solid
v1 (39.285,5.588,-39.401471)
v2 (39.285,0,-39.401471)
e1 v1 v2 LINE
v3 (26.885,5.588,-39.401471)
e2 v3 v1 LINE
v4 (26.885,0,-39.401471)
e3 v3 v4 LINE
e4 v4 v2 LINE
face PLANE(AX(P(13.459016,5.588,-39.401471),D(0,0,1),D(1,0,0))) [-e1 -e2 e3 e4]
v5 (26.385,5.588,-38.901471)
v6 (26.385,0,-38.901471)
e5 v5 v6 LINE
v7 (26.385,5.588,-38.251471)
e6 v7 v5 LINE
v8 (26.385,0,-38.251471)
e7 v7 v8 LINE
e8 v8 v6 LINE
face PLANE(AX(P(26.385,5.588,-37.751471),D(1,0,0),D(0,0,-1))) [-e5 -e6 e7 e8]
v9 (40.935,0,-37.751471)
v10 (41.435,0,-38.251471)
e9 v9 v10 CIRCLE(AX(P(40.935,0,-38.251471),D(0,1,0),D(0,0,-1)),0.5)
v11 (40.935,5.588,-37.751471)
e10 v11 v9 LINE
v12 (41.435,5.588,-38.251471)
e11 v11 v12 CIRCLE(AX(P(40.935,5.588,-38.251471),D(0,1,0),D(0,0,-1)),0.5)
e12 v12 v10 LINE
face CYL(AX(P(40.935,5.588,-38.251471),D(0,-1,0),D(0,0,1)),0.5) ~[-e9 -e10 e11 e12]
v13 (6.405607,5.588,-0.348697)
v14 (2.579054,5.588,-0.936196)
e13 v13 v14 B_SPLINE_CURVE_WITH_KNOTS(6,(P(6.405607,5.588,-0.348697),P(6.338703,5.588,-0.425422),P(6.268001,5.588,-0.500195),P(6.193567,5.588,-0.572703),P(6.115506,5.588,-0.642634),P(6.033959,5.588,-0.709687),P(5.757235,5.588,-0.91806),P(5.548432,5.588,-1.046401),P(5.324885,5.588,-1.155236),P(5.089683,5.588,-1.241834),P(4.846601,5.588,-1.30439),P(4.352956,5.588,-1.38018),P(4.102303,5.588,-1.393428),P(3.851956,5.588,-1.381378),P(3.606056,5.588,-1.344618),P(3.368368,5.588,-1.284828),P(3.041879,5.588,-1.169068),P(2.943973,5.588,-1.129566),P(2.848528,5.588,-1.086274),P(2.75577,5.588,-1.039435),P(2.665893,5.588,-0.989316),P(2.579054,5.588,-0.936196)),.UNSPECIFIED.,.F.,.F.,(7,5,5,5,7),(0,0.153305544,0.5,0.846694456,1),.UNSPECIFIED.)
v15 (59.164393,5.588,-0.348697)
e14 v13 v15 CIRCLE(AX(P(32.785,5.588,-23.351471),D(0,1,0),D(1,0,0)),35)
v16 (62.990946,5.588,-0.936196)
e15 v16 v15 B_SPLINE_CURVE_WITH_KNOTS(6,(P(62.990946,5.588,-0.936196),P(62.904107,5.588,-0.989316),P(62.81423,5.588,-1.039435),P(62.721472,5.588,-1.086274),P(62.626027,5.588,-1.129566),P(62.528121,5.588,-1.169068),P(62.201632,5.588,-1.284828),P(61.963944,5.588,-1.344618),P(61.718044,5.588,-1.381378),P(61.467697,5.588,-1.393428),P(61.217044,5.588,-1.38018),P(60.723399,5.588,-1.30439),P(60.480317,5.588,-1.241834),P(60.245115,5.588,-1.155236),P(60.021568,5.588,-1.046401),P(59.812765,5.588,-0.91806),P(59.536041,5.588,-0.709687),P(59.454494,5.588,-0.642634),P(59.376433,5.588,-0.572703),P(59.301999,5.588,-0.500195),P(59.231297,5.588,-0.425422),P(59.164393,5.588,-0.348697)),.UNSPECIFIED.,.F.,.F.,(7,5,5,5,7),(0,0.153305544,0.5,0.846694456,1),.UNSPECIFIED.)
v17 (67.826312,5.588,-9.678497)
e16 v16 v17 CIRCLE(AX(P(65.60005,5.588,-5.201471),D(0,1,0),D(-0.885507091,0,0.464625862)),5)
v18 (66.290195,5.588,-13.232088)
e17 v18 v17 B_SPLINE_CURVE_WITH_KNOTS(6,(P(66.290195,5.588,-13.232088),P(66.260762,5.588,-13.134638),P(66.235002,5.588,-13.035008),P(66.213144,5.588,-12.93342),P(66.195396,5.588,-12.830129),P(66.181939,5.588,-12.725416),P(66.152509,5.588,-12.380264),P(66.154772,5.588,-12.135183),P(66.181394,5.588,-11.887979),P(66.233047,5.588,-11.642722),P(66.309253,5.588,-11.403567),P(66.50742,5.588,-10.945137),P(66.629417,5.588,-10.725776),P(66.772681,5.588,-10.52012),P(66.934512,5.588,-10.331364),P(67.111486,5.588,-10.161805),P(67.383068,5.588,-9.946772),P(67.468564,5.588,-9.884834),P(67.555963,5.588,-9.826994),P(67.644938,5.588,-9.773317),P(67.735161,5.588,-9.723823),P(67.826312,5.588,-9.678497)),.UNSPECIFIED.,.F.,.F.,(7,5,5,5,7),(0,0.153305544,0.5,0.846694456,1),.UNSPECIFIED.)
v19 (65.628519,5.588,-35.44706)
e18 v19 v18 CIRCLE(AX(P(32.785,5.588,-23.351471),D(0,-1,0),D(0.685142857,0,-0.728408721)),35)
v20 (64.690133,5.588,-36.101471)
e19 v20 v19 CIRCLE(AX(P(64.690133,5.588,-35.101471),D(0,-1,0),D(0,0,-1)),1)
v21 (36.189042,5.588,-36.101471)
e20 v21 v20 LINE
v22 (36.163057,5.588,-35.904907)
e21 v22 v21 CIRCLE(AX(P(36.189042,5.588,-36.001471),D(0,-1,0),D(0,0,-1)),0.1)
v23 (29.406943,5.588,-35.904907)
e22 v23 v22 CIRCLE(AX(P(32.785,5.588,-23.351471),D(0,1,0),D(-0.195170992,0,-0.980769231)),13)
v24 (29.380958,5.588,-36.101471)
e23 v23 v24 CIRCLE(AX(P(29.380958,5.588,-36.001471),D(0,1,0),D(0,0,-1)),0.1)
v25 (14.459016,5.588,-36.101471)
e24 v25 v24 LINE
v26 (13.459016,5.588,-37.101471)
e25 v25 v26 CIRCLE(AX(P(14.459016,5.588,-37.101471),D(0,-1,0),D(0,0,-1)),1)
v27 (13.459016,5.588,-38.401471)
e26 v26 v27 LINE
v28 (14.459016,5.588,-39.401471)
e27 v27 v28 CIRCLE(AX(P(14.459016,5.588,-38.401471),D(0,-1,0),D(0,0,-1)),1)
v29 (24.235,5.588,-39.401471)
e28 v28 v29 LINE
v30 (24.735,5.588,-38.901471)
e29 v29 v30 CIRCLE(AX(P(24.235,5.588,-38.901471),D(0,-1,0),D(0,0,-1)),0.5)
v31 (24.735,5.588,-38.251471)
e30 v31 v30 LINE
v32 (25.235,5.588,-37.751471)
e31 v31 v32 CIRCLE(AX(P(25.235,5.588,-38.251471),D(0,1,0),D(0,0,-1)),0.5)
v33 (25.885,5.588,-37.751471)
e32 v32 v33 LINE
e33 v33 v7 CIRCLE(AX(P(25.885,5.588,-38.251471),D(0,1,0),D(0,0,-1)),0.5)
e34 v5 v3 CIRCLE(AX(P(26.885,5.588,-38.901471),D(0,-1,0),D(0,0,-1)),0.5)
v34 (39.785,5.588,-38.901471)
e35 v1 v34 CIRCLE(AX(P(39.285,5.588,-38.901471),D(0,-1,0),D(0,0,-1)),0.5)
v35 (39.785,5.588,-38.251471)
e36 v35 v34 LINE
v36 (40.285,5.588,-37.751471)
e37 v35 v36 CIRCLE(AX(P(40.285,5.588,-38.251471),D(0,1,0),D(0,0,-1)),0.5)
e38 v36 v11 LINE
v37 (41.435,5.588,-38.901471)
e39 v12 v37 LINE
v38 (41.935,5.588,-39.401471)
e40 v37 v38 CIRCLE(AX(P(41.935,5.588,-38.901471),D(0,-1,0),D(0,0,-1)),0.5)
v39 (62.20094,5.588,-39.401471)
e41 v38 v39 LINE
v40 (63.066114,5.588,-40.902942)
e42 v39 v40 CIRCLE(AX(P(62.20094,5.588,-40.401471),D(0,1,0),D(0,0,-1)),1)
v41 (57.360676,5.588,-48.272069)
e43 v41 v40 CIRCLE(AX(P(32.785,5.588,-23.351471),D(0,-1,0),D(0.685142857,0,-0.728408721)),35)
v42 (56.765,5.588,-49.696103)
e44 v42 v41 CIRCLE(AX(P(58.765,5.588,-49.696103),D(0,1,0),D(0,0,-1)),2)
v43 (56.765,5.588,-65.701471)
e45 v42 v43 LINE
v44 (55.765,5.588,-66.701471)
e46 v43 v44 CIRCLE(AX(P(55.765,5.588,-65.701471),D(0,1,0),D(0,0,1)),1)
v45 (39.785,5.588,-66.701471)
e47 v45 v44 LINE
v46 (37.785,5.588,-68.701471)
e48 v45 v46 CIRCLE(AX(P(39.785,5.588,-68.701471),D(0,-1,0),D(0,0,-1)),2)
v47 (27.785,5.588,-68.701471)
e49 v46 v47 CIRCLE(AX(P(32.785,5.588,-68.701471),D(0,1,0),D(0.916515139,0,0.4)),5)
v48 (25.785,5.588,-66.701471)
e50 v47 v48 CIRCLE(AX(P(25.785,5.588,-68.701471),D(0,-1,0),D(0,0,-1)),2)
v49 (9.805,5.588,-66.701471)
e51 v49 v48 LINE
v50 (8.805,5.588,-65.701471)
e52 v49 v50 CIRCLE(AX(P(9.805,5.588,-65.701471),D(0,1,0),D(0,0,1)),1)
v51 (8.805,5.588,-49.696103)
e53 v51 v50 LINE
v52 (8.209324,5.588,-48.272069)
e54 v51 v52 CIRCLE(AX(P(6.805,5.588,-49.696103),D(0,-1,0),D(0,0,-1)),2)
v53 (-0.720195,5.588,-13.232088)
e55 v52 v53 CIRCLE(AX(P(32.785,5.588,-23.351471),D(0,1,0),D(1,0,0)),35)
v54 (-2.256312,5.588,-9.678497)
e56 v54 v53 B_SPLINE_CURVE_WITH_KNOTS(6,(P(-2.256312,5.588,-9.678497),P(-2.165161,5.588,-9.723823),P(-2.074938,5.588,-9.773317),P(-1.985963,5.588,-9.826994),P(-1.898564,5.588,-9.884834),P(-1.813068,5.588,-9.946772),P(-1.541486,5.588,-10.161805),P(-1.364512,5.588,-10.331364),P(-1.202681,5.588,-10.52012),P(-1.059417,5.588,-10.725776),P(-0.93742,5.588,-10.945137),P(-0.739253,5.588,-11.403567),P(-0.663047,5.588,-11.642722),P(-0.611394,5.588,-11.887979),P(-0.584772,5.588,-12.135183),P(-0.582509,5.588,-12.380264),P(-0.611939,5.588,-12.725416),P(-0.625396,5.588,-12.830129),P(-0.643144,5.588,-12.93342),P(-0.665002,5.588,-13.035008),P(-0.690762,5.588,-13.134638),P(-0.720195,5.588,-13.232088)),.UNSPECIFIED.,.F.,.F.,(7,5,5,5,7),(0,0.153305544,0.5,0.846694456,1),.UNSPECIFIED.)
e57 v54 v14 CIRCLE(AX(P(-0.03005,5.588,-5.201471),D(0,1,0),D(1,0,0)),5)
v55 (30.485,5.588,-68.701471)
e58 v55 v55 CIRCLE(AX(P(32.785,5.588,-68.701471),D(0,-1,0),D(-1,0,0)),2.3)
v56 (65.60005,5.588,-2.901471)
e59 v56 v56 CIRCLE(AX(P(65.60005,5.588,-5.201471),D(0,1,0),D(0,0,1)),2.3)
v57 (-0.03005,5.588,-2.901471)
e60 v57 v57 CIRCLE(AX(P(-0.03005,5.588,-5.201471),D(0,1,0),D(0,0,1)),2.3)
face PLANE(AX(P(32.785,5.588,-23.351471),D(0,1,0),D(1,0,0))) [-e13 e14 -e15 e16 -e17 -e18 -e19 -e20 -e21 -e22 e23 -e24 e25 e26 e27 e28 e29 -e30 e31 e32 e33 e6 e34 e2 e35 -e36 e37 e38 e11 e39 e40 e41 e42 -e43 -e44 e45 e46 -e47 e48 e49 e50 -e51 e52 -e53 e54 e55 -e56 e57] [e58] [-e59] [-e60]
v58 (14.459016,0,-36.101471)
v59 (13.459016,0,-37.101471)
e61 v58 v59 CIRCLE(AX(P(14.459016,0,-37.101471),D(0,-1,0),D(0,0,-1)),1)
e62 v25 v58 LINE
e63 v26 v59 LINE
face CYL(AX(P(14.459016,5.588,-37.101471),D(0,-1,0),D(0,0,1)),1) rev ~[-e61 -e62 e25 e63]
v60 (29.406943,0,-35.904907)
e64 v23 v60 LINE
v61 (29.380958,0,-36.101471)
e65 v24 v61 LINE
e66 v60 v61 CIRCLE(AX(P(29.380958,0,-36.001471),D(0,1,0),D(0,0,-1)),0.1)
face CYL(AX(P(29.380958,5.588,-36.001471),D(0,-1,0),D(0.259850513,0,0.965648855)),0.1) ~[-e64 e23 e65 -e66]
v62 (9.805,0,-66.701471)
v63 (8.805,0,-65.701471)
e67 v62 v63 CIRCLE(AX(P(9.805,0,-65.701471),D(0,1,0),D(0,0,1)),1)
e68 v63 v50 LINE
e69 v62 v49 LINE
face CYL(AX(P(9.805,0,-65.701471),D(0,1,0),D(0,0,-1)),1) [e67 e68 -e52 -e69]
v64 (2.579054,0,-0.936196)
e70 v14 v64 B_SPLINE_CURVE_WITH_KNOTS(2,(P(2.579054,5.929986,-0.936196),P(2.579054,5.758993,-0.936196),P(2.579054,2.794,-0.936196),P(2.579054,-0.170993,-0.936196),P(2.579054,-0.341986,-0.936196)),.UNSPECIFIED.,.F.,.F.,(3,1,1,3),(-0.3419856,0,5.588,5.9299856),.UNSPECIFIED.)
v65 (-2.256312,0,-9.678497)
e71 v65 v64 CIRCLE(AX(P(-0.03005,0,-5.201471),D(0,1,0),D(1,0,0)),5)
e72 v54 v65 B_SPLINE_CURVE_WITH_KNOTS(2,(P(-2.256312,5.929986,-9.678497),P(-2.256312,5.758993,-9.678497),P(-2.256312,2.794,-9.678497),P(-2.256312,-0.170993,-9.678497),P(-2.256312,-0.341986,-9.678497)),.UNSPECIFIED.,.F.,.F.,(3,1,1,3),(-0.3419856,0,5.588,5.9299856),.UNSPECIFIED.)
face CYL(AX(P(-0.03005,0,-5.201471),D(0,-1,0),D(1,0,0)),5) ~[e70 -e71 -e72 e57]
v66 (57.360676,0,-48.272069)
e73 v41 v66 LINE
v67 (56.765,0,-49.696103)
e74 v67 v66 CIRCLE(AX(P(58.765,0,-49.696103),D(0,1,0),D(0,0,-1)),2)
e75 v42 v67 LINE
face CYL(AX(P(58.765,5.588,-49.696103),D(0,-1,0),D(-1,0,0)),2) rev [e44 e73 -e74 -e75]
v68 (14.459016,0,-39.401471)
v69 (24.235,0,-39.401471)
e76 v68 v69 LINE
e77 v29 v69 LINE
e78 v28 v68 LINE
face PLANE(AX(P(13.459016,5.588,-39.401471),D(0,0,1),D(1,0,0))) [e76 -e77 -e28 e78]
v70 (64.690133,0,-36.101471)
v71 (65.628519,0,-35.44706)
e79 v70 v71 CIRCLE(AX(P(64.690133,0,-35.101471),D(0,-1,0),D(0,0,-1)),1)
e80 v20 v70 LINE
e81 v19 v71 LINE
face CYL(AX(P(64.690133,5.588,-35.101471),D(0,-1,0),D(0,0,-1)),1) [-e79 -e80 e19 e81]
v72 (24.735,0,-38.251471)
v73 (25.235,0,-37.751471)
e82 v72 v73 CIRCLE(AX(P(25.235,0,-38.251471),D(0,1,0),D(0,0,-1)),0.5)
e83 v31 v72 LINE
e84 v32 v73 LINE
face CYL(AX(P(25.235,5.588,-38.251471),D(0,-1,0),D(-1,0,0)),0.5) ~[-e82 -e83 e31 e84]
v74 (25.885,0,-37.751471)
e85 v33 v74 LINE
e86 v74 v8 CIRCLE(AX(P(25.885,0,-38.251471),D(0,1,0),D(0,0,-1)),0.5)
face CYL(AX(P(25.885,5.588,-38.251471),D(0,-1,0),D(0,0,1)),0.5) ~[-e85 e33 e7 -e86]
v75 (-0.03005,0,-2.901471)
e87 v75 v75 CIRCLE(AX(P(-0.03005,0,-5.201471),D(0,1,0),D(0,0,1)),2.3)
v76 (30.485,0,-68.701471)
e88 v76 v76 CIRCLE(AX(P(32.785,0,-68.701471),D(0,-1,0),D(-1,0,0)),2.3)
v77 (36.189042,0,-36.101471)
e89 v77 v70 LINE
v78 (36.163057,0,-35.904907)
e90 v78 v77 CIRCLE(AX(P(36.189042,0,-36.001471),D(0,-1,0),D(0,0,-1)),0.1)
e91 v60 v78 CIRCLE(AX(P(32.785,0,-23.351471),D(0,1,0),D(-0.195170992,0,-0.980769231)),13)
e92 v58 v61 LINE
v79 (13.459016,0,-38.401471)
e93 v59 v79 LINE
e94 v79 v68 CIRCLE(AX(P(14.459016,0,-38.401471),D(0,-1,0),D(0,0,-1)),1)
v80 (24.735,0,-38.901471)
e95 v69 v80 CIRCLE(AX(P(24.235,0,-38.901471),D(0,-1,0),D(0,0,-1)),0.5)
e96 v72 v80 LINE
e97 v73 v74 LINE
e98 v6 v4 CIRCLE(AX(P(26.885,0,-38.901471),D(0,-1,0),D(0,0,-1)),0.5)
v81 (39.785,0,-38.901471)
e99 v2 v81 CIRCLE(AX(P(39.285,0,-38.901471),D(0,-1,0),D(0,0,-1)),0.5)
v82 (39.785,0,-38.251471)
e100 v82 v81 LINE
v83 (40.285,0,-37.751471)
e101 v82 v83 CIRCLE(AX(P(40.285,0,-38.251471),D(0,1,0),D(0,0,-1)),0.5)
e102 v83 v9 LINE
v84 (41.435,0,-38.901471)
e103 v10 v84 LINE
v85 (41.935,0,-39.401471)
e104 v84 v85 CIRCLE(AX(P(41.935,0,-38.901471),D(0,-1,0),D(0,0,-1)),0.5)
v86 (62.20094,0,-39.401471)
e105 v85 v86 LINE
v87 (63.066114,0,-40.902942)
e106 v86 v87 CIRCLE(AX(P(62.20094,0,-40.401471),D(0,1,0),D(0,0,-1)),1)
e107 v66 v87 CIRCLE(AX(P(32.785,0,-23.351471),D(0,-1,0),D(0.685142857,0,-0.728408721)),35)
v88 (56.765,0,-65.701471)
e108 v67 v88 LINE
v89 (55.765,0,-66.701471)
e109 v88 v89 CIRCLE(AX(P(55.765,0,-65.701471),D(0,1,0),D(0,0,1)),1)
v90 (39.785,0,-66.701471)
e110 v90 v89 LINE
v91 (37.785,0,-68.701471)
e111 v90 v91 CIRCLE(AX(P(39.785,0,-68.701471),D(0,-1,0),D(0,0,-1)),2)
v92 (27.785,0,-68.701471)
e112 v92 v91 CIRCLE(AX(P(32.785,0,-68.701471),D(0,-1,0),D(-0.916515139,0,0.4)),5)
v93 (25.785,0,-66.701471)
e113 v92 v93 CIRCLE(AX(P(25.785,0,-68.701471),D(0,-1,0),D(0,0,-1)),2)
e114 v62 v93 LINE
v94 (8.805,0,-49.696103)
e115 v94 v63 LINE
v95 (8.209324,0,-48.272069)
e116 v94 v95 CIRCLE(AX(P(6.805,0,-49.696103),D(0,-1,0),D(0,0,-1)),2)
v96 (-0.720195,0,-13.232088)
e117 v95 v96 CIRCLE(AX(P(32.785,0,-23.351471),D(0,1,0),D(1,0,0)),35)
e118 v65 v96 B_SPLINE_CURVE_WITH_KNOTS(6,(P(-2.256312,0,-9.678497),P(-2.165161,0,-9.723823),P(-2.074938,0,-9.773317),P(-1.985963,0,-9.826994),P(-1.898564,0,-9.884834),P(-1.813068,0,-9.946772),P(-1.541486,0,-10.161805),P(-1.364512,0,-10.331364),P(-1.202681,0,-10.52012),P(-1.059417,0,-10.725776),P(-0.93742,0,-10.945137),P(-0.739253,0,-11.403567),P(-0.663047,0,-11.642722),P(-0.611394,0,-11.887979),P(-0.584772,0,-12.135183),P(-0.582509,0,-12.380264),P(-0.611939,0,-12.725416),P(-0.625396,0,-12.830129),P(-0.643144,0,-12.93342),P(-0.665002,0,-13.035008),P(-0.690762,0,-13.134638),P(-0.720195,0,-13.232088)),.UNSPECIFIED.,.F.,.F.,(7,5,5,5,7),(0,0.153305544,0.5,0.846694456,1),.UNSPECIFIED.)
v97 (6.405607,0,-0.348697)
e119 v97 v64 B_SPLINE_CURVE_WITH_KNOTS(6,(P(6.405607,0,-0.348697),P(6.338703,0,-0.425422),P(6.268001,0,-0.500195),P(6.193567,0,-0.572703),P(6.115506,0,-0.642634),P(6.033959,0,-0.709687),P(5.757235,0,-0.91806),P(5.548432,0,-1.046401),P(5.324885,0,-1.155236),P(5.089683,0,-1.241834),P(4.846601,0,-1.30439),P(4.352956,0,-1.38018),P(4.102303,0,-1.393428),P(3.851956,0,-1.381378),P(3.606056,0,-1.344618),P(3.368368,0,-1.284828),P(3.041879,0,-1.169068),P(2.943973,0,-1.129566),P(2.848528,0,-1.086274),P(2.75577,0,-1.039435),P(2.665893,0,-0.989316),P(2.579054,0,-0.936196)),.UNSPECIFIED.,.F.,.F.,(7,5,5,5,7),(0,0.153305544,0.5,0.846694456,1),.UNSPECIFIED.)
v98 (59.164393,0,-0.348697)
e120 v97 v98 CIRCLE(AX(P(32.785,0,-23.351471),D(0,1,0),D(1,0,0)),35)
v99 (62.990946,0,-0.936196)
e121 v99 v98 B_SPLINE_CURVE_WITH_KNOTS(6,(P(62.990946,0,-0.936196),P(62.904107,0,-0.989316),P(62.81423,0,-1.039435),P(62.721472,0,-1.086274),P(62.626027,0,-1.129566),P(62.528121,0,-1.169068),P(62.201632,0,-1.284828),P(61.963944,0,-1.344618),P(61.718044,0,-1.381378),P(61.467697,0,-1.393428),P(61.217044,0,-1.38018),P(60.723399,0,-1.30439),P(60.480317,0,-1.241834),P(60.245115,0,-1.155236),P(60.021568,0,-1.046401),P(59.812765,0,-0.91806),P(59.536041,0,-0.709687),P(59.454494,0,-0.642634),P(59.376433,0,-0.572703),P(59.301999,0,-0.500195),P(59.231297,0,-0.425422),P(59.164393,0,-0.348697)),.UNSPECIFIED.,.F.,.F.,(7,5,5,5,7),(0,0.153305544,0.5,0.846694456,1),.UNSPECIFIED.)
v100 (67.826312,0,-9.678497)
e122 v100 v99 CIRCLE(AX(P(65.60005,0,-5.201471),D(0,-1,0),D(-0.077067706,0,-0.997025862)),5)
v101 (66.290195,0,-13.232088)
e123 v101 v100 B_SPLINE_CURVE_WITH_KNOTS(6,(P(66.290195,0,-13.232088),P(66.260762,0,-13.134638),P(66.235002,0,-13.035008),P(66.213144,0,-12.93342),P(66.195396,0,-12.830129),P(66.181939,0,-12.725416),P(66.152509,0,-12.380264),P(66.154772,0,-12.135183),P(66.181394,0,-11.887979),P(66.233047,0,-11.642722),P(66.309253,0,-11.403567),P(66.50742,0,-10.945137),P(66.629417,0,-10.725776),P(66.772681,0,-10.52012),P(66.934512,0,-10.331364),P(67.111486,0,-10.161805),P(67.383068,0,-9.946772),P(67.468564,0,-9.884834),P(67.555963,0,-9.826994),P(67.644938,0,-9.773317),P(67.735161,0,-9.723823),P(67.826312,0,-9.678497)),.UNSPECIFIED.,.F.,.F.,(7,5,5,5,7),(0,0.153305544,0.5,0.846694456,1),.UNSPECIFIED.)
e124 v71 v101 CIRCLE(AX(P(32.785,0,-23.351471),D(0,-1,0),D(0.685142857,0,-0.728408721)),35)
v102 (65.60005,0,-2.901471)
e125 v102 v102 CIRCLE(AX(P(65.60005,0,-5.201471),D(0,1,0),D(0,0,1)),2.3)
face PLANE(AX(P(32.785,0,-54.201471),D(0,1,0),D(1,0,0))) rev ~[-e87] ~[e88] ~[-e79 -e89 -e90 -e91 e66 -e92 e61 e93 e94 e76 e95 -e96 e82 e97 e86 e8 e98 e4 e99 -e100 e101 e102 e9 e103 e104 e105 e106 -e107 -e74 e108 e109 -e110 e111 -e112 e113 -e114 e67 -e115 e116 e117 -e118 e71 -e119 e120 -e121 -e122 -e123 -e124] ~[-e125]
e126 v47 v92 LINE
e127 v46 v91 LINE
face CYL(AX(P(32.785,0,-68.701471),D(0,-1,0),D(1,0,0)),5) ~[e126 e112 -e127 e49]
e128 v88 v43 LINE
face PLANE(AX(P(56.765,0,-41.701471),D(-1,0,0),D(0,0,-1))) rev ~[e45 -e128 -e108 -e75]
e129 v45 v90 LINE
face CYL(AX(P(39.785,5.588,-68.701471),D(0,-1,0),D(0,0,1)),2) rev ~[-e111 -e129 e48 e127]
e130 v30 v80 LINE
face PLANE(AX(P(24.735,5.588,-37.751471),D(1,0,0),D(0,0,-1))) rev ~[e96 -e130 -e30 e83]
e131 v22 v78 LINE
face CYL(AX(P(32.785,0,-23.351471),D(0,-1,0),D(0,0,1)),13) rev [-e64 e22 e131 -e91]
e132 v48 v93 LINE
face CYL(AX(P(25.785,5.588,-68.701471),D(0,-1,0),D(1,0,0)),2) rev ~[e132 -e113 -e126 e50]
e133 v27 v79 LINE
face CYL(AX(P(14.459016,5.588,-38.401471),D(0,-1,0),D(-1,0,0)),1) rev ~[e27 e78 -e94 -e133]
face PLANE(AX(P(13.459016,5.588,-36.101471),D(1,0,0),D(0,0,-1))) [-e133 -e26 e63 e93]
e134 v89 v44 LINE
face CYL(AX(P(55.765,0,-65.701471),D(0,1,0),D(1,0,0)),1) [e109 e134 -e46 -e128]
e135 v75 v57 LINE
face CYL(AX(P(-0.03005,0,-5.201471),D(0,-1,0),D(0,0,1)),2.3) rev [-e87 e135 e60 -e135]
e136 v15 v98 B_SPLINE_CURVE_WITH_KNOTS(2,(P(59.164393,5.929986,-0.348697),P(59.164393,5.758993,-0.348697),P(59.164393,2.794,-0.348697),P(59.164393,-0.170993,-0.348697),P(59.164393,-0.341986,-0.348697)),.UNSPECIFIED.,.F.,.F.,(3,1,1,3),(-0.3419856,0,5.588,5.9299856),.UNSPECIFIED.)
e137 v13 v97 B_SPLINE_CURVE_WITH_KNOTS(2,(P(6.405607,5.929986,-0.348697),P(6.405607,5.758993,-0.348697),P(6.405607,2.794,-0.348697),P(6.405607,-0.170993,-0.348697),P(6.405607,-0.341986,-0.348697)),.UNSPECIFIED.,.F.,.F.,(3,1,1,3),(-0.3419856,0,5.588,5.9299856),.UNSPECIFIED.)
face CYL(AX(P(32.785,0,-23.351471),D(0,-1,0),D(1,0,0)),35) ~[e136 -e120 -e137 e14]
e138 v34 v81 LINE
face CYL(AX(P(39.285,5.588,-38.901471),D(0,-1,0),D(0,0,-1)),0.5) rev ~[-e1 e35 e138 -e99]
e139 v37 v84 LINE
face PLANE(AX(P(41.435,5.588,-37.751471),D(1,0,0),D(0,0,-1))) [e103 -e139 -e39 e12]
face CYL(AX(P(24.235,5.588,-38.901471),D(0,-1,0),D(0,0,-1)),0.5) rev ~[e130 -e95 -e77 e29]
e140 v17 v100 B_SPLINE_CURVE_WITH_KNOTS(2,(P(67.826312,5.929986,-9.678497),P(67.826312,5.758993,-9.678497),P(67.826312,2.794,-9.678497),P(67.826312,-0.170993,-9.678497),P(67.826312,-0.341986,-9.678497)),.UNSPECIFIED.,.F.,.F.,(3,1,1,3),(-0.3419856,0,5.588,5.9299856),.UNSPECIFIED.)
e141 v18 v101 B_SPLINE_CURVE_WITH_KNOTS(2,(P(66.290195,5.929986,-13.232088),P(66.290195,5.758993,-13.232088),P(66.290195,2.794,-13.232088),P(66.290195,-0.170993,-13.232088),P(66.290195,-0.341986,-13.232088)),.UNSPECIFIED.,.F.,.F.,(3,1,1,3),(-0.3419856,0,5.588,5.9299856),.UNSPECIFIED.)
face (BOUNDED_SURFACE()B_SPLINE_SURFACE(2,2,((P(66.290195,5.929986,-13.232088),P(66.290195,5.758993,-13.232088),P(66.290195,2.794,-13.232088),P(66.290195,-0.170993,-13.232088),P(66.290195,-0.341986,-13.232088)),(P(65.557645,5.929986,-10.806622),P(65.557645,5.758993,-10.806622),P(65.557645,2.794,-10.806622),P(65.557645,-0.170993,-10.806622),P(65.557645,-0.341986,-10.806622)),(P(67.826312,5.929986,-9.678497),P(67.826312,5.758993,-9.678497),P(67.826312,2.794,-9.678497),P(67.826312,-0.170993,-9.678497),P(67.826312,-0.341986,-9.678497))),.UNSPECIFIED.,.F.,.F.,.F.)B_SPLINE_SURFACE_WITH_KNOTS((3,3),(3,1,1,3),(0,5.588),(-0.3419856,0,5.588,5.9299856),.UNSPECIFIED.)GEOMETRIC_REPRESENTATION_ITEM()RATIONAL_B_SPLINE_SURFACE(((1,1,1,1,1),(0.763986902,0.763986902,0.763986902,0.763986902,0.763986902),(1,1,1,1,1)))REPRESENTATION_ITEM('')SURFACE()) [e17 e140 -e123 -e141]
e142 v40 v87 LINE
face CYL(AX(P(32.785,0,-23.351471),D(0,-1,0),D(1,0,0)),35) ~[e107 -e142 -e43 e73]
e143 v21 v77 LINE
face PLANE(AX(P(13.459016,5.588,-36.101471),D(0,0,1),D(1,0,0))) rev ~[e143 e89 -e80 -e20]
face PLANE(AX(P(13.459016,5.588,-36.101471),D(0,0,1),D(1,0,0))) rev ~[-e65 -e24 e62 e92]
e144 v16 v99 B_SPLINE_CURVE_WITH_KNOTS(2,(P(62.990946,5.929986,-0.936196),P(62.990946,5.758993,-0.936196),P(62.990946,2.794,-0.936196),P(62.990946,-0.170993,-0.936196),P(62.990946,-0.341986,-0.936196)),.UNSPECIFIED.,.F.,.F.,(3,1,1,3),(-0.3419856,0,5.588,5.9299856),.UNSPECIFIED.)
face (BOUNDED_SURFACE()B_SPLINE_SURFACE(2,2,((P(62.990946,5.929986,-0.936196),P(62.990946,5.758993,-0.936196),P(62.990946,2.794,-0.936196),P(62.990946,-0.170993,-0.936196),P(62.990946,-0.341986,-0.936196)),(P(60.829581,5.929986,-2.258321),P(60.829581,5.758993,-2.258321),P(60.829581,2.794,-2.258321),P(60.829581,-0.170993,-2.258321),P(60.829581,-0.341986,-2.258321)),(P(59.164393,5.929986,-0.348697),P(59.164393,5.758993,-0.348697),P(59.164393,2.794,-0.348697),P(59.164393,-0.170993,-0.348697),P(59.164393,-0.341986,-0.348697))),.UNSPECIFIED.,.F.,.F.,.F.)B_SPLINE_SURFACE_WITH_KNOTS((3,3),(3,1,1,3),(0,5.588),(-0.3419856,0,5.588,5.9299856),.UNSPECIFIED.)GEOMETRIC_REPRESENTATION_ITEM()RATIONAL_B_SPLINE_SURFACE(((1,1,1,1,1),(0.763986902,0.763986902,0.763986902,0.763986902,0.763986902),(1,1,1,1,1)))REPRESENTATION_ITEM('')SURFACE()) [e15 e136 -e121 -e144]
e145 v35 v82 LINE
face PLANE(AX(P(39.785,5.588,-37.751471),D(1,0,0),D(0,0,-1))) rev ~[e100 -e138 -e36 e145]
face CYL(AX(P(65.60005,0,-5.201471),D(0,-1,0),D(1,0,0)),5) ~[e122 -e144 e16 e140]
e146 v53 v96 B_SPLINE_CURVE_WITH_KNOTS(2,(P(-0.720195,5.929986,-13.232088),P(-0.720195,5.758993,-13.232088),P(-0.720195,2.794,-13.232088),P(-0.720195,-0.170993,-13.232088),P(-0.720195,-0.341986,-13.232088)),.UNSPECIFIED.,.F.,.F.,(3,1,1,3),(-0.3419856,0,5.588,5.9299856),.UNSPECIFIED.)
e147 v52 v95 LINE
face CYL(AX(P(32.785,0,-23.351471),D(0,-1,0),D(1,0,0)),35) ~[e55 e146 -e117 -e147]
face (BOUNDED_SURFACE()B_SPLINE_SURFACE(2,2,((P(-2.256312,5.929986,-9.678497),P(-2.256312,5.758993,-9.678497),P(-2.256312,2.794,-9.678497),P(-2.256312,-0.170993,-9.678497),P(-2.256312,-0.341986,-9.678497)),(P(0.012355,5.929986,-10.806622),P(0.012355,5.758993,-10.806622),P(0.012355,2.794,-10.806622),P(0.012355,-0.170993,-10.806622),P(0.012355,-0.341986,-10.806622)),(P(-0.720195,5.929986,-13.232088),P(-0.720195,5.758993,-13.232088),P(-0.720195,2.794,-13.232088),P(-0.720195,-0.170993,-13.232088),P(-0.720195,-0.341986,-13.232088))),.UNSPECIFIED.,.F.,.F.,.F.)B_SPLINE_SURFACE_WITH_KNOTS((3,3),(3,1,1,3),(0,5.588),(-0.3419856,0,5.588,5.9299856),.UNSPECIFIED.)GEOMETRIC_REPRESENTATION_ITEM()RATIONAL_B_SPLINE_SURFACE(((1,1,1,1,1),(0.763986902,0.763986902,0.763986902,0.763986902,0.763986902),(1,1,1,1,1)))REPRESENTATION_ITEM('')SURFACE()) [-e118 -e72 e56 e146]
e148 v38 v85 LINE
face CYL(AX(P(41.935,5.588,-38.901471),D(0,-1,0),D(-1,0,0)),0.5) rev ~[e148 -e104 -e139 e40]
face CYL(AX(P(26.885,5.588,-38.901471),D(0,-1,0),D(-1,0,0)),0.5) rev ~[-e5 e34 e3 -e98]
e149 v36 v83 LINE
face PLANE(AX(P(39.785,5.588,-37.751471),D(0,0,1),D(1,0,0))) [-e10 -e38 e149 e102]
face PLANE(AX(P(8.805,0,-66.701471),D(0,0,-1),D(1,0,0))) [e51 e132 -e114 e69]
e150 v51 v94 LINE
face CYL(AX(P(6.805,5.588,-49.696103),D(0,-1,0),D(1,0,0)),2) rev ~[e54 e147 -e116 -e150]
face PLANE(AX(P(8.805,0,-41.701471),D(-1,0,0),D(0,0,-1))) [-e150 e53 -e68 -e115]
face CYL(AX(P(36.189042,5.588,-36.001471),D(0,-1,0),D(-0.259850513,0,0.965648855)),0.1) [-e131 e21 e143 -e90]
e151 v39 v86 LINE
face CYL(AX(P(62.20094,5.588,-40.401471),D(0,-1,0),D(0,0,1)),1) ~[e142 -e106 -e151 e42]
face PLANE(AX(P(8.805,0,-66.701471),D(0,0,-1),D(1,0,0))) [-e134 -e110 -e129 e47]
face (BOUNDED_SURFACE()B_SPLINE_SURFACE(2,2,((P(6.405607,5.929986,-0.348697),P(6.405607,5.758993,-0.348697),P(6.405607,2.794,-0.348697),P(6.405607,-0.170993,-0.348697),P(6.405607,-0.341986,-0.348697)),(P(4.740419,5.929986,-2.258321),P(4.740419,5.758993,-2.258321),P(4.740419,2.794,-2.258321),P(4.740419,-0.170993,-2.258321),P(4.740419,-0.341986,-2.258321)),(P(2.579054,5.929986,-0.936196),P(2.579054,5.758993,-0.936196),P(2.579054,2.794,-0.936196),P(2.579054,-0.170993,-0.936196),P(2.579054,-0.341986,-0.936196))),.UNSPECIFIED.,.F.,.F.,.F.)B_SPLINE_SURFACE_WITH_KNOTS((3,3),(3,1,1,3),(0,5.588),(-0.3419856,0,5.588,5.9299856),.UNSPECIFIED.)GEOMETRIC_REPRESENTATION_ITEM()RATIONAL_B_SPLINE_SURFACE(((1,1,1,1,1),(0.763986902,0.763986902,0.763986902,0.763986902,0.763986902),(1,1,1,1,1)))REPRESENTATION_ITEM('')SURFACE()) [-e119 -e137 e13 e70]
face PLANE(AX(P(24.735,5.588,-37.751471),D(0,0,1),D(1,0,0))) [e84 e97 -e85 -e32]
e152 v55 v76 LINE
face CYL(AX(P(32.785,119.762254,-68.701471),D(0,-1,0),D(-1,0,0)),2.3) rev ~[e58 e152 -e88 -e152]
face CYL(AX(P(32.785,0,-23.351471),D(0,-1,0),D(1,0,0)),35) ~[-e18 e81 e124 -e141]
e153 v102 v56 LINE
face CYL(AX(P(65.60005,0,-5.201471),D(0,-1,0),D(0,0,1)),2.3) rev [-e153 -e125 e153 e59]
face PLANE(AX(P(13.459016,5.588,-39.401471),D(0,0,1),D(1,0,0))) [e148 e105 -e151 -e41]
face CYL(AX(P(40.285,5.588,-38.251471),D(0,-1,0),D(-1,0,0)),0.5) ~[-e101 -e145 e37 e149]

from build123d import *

# Parameters (mm, degrees)
SKETCH1_R                  = 35
SKETCH1_R_2                = 13
SKETCH1_R_3                = 5
SKETCH1_R_4                = 2.3
SKETCH1_W                  = 47.96
SKETCH1_H                  = 25
BOSS_EXTRUDE3_DEPTH        = 5.588
F_4_6_4_6_DIAMETER_HOLE1_D = 4.6
FILLET1_R                  = 3
FILLET2_R                  = 2
FILLET3_R                  = 2
FILLET4_R                  = 1
SKETCH6_W                  = 55.082421743
SKETCH6_H                  = 3.3
CUT_EXTRUDE5_DEPTH         = 10
SKETCH7_W                  = 1.65
SKETCH7_H                  = 1.65
BOSS_EXTRUDE4_DEPTH        = 5.588
FILLET5_R                  = 1
FILLET6_R                  = 0.5
FILLET7_R                  = 0.5
FILLET11_R                 = 1
FILLET13_R                 = 0.1
FILLET14_R                 = 0.1


with BuildPart() as part:
    # Sketch1 → Boss-Extrude3 (new body)
    # profile 1 of 5: a face of its own
    with BuildSketch(Plane(origin=(0, 0, 0), x_dir=(1, 0, 0), z_dir=(0, 1, 0))):
        with Locations((32.785, 23.351471482)):
            Circle(SKETCH1_R)
        with Locations(Location((32.785, 23.351471482, 0), (0, 0, 270))):
            Circle(SKETCH1_R_2, mode=Mode.SUBTRACT)
    # profile 2 of 5: a face of its own
    with BuildSketch(Plane(origin=(0, 0, 0), x_dir=(1, 0, 0), z_dir=(0, 1, 0))):
        with Locations((65.600049901, 5.201471482)):
            Circle(SKETCH1_R_3)
        with Locations(Location((65.600049901, 5.201471482, 0), (0, 0, 270))):
            Circle(SKETCH1_R_4, mode=Mode.SUBTRACT)
    # profile 3 of 5: a face of its own
    with BuildSketch(Plane(origin=(0, 0, 0), x_dir=(1, 0, 0), z_dir=(0, 1, 0))):
        with Locations((-0.030049901, 5.201471482)):
            Circle(SKETCH1_R_3)
        with Locations(Location((-0.030049901, 5.201471482, 0), (0, 0, 270))):
            Circle(SKETCH1_R_4, mode=Mode.SUBTRACT)
    # profile 4 of 5: a face of its own
    with BuildSketch(Plane(origin=(0, 0, 0), x_dir=(1, 0, 0), z_dir=(0, 1, 0))):
        with Locations((32.785, 68.701471482)):
            Circle(SKETCH1_R_3)
    # profile 5 of 5: a face of its own
    with BuildSketch(Plane(origin=(0, 0, 0), x_dir=(1, 0, 0), z_dir=(0, 1, 0))):
        with Locations((32.785, 54.201471482)):
            Rectangle(SKETCH1_W, SKETCH1_H)
    extrude(amount=BOSS_EXTRUDE3_DEPTH)

    # Ø4.6 (4.6) Diameter Hole1 (through all)
    with Locations(Plane(origin=(0, 5.588, 0), x_dir=(1, 0, 0), z_dir=(0, 1, 0))):
        with Locations((32.785, 68.701471482)):
            Hole(F_4_6_4_6_DIAMETER_HOLE1_D / 2)

    # Fillet1
    fillet1_edges = [part.edges().sort_by_distance(p)[0] for p in [
        (65.214711372, 2.794, -10.18660079),
        (61.172514444, 2.794, -2.878342174),
        (0.355288628, 2.794, -10.18660079),
        (4.397485556, 2.794, -2.878342174),
    ]]
    fillet(fillet1_edges, radius=FILLET1_R)

    # Fillet2
    fillet2_edges = [part.edges().sort_by_distance(p)[0] for p in [
        (28.202424305, 2.794, -66.701471482),
        (37.367575695, 2.794, -66.701471482),
    ]]
    fillet(fillet2_edges, radius=FILLET2_R)

    # Fillet3
    fillet3_edges = [part.edges().sort_by_distance(p)[0] for p in [
        (8.805, 2.794, -48.845776728),
        (56.765, 2.794, -48.845776728),
    ]]
    fillet(fillet3_edges, radius=FILLET3_R)

    # Fillet4
    fillet4_edges = [part.edges().sort_by_distance(p)[0] for p in [
        (56.765, 2.794, -66.701471482),
        (8.805, 2.794, -66.701471482),
    ]]
    fillet(fillet4_edges, radius=FILLET4_R)

    # Sketch6 → Cut-Extrude5 (cut)
    with BuildSketch(Plane(origin=(0, 5.588, 0), x_dir=(1, 0, 0), z_dir=(0, 1, 0))):
        with Locations((41.000226715, 37.751471482)):
            Rectangle(SKETCH6_W, SKETCH6_H)
    extrude(amount=-CUT_EXTRUDE5_DEPTH, mode=Mode.SUBTRACT)

    # Sketch7 → Boss-Extrude4 (add)
    with BuildSketch(Plane(origin=(0, 5.588, 0), x_dir=(1, 0, 0), z_dir=(0, 1, 0))):
        with Locations((40.61, 38.576471482)):
            Rectangle(SKETCH7_W, SKETCH7_H)
        with Locations((25.56, 38.576471482)):
            Rectangle(SKETCH7_W, SKETCH7_H)
    extrude(amount=-BOSS_EXTRUDE4_DEPTH)

    # Fillet5
    fillet5_edges = [part.edges().sort_by_distance(p)[0] for p in [
        (13.459015843, 2.794, -36.101471482),
        (13.459015843, 2.794, -39.401471482),
    ]]
    fillet(fillet5_edges, radius=FILLET5_R)

    # Fillet6
    fillet6_edges = [part.edges().sort_by_distance(p)[0] for p in [
        (26.385, 2.794, -39.401471482),
        (24.735, 2.794, -39.401471482),
        (41.435, 2.794, -39.401471482),
        (39.785, 2.794, -39.401471482),
    ]]
    fillet(fillet6_edges, radius=FILLET6_R)

    # Fillet7
    fillet7_edges = [part.edges().sort_by_distance(p)[0] for p in [
        (26.385, 2.794, -37.751471482),
        (24.735, 2.794, -37.751471482),
        (41.435, 2.794, -37.751471482),
        (39.785, 2.794, -37.751471482),
    ]]
    fillet(fillet7_edges, radius=FILLET7_R)

    # Fillet11
    fillet11_edges = [part.edges().sort_by_distance(p)[0] for p in [
        (63.888014323, 2.794, -39.401471482),
        (65.380053306, 2.794, -36.101471482),
    ]]
    fillet(fillet11_edges, radius=FILLET11_R)

    # Fillet13
    fillet13_edges = [part.edges().sort_by_distance(p)[0] for p in [
        (30.247777109, 2.794, -36.101471482),
    ]]
    fillet(fillet13_edges, radius=FILLET13_R)

    # Fillet14
    fillet14_edges = [part.edges().sort_by_distance(p)[0] for p in [
        (35.322222891, 2.794, -36.101471482),
    ]]
    fillet(fillet14_edges, radius=FILLET14_R)


solid = part.part
